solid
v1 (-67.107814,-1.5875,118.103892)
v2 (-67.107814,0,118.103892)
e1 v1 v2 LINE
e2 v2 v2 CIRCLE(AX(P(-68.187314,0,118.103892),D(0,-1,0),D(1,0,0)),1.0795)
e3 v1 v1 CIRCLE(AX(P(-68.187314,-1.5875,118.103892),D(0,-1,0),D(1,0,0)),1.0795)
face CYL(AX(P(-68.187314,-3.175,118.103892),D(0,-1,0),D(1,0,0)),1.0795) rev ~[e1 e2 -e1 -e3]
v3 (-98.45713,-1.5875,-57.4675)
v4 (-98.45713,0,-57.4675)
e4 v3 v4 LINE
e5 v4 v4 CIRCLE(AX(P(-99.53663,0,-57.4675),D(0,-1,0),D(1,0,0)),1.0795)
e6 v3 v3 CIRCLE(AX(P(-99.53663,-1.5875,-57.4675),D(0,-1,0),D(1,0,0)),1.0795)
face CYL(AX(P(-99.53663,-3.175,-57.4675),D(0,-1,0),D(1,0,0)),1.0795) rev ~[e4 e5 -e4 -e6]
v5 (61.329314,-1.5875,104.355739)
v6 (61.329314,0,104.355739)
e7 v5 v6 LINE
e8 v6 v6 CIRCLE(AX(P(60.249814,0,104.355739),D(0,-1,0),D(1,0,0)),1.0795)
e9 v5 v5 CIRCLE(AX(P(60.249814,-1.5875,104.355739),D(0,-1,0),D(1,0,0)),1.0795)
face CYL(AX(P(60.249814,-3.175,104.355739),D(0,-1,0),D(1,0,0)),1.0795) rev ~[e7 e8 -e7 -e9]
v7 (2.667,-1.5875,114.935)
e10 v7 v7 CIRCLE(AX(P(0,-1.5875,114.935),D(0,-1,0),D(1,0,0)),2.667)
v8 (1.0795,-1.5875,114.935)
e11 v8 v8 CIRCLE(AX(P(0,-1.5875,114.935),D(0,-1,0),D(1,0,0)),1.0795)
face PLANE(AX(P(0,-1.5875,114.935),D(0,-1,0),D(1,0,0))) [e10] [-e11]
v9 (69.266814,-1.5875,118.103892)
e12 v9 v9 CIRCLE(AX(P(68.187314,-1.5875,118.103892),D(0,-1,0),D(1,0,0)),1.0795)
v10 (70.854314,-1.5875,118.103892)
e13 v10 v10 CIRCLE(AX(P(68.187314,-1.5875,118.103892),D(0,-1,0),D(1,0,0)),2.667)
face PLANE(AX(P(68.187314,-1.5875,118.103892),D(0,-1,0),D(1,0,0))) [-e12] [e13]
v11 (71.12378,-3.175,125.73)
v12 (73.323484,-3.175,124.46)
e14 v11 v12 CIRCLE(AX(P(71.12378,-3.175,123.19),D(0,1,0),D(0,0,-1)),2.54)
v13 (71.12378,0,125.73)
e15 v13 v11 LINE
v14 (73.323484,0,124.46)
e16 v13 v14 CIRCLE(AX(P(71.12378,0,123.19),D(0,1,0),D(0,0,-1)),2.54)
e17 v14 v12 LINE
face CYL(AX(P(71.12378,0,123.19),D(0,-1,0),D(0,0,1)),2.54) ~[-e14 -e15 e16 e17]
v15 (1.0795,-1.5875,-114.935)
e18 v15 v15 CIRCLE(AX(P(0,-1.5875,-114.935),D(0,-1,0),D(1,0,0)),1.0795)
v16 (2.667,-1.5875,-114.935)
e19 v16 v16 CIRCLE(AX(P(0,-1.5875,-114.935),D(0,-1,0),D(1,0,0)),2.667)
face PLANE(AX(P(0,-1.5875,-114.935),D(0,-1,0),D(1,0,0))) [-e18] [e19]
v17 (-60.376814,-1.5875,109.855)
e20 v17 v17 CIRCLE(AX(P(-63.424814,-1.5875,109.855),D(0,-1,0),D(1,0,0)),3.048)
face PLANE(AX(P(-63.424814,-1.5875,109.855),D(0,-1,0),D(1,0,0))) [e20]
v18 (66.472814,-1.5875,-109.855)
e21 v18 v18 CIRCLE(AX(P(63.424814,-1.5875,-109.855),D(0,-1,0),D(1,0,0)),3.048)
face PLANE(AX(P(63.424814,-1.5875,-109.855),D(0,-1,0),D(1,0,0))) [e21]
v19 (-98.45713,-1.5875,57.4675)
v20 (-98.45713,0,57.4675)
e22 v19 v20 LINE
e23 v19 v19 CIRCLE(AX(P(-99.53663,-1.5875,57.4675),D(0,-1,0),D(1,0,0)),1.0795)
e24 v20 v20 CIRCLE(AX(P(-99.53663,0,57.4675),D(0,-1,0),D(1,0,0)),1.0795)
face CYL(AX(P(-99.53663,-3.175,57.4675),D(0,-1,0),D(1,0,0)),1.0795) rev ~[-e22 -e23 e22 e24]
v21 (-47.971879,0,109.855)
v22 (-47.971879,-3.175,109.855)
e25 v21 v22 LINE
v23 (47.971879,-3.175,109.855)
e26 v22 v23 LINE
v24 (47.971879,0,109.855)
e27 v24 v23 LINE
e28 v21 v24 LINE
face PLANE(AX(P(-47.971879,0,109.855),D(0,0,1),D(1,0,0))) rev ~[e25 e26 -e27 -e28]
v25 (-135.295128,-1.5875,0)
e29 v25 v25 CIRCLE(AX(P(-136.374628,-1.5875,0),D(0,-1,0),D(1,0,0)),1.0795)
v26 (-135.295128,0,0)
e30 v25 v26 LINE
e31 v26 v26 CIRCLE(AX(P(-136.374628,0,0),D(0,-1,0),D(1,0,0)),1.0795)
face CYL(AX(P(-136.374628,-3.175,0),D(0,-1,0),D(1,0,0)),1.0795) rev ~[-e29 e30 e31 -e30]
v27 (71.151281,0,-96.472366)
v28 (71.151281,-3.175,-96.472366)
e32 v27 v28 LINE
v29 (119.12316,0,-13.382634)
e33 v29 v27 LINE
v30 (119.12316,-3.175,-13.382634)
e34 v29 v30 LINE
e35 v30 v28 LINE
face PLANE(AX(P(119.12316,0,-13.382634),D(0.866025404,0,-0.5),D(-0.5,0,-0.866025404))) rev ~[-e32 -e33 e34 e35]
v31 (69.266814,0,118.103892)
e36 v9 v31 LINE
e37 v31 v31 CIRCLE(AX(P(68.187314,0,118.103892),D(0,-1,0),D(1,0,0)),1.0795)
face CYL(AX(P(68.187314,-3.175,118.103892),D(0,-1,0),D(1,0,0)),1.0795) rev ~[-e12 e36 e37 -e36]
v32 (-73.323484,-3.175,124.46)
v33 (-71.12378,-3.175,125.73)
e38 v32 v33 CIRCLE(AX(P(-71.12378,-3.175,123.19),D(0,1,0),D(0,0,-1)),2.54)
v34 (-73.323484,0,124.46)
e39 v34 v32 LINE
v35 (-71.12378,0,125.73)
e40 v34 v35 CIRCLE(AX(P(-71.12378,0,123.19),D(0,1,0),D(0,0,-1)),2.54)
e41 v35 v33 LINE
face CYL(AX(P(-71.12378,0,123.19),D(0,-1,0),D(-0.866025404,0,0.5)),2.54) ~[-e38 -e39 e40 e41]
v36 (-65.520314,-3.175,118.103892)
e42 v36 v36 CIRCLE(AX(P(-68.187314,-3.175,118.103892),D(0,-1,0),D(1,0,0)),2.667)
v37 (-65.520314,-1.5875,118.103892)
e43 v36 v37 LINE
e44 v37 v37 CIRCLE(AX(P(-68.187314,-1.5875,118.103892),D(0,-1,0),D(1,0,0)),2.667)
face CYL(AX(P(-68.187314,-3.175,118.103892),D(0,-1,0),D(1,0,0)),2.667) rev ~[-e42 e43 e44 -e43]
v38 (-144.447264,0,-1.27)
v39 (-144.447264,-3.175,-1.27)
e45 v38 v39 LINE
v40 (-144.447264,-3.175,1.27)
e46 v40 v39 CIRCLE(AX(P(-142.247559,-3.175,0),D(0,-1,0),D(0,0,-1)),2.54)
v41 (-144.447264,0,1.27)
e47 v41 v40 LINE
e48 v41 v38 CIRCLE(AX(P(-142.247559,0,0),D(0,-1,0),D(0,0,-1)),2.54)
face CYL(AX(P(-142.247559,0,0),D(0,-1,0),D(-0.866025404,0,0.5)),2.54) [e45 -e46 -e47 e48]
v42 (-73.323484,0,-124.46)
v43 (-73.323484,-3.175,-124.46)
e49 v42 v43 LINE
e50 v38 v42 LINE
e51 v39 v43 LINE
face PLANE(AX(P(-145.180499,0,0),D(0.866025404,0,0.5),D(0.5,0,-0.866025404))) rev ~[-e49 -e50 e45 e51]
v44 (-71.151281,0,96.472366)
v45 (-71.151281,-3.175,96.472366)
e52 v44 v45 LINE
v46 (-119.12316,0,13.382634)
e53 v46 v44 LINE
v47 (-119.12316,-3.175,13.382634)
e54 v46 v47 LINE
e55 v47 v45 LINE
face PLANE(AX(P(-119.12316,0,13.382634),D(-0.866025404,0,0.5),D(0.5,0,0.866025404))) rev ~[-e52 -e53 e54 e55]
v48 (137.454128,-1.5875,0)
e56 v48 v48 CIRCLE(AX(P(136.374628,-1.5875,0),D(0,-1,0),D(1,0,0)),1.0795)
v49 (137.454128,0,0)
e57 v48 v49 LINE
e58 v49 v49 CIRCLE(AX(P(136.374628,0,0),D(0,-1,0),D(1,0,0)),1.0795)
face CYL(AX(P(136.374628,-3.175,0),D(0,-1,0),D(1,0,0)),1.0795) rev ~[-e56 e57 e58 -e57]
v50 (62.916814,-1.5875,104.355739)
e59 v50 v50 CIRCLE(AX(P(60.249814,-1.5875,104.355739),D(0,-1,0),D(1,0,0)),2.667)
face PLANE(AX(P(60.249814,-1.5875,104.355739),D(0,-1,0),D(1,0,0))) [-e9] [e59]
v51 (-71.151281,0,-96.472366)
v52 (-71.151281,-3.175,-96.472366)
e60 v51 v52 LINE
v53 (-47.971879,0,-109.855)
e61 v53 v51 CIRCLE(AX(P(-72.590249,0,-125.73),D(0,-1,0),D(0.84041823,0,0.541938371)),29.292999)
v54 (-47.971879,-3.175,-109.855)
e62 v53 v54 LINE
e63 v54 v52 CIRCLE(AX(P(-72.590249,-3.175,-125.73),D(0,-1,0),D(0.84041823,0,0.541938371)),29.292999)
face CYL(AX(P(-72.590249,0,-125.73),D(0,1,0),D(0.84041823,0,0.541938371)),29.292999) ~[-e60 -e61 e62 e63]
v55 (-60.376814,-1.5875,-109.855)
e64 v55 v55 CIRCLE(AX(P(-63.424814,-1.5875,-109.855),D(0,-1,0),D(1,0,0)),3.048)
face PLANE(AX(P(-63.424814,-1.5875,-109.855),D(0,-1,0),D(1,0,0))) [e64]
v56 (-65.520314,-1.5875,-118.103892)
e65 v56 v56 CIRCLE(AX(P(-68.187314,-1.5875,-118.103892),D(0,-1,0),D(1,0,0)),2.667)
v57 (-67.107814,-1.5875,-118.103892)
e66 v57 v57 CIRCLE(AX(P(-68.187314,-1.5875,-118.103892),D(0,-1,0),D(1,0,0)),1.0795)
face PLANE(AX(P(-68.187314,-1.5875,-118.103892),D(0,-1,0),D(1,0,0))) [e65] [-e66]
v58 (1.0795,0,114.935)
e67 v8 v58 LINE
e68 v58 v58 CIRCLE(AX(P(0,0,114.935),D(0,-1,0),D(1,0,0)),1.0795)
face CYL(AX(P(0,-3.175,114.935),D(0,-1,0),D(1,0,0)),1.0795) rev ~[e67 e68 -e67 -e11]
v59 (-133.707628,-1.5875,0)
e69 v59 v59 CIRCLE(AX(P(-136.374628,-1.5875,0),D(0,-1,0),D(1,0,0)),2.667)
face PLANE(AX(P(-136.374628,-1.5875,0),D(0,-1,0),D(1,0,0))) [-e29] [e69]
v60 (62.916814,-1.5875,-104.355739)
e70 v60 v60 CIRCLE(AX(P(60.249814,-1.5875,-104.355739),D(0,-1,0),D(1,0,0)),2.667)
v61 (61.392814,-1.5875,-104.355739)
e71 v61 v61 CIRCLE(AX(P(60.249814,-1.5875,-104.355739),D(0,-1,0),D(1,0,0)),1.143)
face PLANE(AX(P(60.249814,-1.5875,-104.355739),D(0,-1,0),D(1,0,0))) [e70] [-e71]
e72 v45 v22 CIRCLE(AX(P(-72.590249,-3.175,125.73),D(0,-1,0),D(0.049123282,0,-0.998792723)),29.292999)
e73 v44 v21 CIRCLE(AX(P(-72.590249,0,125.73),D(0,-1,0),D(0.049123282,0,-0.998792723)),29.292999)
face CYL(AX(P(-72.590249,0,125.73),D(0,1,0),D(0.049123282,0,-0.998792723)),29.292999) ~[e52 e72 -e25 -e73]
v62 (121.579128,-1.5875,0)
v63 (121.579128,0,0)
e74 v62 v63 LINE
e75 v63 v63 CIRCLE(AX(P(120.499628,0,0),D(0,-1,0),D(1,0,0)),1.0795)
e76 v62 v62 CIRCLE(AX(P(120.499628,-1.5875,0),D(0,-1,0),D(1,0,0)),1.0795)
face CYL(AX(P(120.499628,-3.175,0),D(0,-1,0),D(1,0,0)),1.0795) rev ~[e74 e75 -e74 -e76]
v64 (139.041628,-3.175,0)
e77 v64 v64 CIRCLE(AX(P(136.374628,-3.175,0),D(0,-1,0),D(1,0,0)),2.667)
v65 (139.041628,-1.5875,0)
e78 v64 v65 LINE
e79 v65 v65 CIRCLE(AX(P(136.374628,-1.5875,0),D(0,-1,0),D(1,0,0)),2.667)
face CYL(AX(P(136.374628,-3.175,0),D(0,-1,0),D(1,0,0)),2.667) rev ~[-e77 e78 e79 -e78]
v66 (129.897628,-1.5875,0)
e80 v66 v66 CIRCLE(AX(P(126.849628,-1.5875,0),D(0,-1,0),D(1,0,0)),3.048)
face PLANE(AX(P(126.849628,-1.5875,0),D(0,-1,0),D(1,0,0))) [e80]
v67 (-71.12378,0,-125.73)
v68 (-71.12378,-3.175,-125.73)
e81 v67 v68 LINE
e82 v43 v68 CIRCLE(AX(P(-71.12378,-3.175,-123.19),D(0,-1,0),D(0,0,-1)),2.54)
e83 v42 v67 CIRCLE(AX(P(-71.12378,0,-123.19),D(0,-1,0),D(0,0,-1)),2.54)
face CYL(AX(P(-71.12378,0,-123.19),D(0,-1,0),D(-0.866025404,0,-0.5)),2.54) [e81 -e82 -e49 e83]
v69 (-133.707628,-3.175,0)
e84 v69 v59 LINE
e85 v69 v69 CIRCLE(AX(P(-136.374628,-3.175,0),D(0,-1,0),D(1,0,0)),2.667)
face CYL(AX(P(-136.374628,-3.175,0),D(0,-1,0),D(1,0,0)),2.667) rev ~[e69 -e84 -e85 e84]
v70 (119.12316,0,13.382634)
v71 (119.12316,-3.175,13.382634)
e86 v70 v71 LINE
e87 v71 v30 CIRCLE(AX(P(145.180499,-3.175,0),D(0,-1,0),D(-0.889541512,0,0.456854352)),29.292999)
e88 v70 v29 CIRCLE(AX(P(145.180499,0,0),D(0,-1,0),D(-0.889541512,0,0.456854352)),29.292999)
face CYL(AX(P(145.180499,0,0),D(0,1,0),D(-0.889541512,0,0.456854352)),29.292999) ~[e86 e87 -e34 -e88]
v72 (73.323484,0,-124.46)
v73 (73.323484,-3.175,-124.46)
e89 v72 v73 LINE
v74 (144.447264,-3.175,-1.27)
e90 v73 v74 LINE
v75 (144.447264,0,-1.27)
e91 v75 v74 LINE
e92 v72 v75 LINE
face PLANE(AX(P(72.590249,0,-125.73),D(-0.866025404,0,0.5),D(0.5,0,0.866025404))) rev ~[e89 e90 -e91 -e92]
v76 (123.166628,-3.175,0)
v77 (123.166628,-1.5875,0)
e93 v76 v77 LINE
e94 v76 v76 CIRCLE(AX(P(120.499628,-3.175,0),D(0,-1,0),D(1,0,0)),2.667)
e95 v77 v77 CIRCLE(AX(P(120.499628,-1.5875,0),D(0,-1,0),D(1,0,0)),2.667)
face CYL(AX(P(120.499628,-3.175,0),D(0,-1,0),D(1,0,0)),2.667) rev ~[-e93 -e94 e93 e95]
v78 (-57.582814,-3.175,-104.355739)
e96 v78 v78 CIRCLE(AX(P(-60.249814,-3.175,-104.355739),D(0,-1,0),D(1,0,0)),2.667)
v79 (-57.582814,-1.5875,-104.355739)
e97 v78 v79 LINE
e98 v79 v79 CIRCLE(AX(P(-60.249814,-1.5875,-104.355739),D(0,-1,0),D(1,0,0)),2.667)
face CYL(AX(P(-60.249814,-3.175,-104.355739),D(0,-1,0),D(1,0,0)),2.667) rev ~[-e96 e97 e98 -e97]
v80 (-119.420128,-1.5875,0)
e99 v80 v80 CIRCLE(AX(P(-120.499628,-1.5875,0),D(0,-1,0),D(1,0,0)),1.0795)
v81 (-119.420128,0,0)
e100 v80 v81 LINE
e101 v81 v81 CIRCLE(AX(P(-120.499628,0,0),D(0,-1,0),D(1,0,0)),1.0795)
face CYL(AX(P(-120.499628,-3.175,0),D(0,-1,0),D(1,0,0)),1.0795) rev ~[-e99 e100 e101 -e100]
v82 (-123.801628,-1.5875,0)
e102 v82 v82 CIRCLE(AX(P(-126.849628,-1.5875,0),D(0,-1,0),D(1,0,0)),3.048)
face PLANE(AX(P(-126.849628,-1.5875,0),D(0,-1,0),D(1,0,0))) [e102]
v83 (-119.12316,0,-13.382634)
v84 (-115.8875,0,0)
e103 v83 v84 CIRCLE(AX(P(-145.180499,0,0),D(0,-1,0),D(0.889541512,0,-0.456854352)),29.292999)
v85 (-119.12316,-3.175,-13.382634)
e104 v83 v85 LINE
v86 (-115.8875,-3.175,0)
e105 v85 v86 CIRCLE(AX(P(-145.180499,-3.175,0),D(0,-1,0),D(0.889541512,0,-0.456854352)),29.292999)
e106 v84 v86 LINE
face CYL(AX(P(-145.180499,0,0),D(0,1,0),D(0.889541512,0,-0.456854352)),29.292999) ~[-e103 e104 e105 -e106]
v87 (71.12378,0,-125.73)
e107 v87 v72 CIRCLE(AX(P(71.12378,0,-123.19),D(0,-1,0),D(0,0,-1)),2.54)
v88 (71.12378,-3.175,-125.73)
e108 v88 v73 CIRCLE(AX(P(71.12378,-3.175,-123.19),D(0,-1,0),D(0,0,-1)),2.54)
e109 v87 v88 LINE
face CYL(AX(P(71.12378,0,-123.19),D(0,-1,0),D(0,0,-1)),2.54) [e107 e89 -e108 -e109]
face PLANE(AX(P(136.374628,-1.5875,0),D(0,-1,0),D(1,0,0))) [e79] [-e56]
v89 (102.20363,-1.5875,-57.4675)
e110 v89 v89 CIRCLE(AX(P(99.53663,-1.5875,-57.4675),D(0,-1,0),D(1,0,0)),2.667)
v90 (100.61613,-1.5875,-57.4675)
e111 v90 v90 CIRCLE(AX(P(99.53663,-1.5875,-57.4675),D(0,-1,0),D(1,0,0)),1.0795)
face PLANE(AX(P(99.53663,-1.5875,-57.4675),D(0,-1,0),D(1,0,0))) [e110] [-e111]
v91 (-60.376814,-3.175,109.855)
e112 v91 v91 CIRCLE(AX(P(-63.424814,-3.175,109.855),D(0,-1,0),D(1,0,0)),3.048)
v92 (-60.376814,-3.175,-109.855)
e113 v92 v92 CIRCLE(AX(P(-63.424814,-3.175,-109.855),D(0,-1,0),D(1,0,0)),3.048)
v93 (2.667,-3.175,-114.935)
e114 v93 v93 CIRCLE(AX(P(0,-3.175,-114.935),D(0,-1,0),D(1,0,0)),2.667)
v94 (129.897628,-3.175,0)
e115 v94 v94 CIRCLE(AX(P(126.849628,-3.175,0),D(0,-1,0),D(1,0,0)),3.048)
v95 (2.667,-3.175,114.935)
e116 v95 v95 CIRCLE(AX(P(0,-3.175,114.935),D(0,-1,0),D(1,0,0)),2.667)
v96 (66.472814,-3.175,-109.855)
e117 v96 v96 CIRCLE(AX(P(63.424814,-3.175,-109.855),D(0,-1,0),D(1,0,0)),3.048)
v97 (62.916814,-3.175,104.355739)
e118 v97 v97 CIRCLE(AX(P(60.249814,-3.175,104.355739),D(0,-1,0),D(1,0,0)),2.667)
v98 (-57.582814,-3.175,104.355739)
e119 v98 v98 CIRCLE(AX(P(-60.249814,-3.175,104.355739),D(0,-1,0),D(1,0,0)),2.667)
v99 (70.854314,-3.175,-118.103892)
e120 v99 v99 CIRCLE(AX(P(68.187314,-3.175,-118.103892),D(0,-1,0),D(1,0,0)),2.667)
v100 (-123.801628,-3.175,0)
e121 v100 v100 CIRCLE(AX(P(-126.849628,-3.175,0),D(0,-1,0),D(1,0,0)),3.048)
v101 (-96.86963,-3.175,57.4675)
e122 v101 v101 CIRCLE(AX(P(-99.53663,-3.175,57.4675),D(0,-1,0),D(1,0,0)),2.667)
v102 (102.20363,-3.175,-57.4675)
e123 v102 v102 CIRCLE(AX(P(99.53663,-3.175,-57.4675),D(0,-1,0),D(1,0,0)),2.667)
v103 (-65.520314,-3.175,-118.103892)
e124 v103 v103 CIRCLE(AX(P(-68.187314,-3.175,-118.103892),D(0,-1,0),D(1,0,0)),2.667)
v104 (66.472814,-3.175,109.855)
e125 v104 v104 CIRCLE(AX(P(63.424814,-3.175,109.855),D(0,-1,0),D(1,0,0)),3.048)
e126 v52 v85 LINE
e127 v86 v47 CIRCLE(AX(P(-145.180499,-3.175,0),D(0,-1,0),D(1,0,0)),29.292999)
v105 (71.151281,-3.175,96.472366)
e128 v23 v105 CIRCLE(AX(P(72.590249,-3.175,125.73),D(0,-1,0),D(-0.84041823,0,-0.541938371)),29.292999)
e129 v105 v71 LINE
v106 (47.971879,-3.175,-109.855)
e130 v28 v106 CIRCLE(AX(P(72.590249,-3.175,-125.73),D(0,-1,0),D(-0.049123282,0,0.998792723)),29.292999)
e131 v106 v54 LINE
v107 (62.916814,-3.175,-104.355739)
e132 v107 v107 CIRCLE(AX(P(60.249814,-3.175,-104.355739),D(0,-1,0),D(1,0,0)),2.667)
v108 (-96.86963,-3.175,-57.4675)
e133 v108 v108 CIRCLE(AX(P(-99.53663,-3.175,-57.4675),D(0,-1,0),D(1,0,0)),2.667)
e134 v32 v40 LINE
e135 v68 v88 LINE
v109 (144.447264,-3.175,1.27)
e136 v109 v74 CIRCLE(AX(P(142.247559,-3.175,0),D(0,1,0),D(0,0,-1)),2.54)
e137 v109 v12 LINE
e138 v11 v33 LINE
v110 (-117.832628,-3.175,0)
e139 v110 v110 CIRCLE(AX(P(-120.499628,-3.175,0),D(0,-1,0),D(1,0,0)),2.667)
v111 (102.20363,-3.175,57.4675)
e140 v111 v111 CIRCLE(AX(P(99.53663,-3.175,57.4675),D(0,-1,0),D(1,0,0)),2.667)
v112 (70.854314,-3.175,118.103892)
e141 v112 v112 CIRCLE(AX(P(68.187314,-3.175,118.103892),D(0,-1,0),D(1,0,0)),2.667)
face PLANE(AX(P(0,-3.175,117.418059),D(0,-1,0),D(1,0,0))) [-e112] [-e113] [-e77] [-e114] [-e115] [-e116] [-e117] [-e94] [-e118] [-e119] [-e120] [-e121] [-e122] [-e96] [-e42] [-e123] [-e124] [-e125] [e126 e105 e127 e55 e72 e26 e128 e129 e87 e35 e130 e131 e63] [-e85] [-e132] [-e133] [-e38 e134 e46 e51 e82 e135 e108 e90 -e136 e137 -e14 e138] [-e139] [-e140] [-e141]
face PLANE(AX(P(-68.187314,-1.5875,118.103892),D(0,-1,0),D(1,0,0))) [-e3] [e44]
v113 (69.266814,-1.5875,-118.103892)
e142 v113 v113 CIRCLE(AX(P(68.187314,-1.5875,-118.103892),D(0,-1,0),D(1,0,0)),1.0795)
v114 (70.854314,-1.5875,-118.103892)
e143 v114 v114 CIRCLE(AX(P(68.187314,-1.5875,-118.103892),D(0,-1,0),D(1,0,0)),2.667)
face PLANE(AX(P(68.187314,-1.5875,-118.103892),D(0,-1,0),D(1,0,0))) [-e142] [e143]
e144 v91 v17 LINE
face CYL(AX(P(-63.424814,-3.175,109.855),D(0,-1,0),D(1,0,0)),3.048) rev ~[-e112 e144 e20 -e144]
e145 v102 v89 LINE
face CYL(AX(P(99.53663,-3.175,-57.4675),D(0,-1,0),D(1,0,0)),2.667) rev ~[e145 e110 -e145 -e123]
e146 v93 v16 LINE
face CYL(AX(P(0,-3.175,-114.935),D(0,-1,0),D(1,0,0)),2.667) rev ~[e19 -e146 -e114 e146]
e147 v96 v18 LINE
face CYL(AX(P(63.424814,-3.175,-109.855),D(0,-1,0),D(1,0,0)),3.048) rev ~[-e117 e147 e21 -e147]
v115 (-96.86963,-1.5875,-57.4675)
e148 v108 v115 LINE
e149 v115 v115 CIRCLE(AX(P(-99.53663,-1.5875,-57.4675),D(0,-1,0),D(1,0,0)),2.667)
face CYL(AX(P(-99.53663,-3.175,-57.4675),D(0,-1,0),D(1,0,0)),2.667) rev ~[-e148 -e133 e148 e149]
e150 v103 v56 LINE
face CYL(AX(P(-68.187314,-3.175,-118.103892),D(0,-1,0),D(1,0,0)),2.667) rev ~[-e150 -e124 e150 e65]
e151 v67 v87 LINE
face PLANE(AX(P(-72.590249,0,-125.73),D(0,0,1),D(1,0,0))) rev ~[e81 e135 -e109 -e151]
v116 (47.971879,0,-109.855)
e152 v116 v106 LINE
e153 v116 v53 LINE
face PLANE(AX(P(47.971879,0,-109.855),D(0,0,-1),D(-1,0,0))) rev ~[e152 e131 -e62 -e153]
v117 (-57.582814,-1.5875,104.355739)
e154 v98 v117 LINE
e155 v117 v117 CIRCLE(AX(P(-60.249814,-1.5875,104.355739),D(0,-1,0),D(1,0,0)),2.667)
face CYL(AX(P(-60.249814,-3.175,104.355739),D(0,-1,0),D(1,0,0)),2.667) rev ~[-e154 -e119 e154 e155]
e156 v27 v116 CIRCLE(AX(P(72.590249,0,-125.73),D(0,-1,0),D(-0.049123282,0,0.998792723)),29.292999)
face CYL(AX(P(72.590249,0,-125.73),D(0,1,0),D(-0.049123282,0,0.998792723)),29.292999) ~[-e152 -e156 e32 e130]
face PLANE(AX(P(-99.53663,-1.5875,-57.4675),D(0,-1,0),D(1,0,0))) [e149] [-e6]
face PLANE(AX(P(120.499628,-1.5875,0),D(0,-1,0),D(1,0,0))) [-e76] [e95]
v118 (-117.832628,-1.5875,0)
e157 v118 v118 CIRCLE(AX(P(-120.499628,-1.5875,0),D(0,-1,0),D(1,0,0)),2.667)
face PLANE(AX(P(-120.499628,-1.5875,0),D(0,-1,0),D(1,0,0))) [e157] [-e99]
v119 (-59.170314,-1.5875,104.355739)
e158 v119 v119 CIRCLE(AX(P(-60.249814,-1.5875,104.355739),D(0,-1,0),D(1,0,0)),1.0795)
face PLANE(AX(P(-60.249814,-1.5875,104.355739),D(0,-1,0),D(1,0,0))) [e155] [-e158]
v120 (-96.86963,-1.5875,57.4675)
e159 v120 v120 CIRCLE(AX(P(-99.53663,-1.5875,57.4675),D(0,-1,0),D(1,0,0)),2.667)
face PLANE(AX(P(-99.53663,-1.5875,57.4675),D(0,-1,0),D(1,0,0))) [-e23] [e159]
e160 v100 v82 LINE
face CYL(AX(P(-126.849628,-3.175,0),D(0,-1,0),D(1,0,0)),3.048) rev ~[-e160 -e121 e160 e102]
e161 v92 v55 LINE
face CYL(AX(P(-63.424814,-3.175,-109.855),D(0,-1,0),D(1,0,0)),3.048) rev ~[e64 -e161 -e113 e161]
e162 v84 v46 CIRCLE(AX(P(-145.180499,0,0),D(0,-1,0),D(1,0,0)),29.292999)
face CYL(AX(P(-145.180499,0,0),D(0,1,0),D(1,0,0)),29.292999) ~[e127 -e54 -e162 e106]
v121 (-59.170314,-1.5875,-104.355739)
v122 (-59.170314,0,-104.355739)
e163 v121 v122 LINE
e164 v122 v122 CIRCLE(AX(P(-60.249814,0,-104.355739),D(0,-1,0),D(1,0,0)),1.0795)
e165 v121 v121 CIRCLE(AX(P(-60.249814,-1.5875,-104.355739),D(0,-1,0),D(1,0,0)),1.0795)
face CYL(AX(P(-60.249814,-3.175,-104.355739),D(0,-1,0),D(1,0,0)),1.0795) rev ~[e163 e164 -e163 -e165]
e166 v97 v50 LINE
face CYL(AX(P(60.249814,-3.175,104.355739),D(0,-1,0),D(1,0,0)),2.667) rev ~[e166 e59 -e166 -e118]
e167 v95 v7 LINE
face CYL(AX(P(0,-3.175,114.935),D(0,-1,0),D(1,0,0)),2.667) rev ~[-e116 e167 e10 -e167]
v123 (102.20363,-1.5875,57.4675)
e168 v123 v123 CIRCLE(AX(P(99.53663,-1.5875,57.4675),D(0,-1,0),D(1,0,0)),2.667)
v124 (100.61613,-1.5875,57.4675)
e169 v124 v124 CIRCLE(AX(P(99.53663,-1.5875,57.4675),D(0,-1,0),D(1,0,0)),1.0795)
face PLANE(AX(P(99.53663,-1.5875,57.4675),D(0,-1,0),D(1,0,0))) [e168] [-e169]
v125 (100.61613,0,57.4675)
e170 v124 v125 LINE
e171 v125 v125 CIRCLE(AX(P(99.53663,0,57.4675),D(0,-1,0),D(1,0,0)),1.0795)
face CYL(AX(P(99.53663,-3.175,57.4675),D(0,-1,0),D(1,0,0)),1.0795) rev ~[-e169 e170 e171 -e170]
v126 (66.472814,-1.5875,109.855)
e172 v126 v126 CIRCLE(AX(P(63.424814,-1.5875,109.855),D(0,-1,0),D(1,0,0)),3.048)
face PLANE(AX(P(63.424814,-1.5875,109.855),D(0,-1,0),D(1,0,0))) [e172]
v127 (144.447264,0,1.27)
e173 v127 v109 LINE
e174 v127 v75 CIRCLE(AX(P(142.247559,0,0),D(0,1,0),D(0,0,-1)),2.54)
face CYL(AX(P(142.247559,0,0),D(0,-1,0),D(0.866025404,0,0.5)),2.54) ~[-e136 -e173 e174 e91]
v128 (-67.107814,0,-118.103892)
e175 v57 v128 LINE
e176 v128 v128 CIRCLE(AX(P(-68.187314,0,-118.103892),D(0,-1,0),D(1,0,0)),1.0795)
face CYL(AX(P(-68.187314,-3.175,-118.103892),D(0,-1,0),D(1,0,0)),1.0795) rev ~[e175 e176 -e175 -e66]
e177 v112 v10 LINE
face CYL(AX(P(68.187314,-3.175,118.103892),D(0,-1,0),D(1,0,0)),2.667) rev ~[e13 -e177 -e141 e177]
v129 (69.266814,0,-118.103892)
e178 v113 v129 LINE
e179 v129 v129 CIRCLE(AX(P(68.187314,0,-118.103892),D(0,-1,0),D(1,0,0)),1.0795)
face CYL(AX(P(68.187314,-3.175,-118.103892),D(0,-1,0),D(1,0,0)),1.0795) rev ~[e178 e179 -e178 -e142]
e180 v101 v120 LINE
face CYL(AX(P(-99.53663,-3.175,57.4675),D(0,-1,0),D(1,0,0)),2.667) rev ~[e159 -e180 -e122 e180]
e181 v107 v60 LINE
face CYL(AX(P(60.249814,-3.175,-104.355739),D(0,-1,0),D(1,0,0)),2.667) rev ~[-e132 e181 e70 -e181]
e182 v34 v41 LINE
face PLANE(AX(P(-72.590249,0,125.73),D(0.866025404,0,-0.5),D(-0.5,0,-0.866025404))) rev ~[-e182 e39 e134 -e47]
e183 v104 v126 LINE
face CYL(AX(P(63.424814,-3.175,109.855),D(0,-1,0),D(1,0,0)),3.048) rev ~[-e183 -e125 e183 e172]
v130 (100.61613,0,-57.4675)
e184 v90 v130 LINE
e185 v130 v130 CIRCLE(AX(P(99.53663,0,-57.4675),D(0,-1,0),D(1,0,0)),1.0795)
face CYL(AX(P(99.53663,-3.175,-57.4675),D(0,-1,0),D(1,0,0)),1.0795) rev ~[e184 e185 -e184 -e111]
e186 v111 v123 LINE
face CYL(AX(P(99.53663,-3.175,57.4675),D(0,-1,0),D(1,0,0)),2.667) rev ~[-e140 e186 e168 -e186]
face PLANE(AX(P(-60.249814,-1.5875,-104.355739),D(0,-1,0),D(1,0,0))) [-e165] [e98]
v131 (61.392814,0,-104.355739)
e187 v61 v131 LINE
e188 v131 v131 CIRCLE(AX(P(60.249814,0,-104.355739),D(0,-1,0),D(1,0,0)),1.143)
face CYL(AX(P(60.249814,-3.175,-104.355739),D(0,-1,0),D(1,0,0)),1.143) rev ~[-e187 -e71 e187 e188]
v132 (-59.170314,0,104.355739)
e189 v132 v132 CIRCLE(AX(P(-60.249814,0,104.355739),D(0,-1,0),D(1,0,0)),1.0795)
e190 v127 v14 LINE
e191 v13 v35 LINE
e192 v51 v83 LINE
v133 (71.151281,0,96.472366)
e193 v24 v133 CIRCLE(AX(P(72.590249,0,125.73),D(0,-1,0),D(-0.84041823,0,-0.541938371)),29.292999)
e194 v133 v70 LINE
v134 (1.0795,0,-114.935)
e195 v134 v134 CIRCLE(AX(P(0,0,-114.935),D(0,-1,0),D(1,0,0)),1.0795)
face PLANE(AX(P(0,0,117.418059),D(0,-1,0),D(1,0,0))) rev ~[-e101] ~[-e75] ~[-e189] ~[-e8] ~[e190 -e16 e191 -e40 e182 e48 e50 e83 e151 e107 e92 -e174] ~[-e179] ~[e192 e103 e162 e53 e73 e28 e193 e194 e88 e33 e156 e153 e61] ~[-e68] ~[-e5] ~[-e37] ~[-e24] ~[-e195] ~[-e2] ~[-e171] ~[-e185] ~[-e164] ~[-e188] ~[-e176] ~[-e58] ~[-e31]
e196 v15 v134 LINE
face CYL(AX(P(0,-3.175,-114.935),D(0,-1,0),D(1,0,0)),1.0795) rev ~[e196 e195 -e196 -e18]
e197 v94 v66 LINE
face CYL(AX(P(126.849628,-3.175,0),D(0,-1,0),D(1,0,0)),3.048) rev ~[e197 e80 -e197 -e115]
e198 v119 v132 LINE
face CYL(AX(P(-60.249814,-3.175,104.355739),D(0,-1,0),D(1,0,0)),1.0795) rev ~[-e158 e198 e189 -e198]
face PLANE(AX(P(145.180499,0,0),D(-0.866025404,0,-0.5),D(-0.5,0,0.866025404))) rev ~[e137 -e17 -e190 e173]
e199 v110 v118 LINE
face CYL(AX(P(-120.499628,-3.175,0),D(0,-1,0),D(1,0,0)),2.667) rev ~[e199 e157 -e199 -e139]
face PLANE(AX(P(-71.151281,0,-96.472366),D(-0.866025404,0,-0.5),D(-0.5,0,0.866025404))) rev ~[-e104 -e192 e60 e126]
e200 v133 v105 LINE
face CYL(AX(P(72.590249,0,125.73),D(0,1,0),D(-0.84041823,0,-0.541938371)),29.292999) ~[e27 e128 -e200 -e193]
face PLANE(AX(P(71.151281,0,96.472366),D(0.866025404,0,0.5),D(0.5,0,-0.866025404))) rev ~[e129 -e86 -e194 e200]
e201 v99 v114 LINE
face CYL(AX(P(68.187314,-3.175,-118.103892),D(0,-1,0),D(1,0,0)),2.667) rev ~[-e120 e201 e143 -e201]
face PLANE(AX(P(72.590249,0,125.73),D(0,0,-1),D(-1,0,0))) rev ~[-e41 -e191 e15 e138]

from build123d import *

# Parameters (mm, degrees)
F1_DEPTH = 3.175
F2_R     = 3.048
F3_DEPTH = 1.5875
F4_R     = 2.667
F4_R_2   = 1.0795
F4_R_3   = 1.143
F5_DEPTH = 1.5875
F6_DEPTH = 3.176
F7_R     = 2.54


with BuildPart() as f1:
    # F0 (on Front) → F1 (new body)
    with BuildSketch(Plane.XZ):
        with BuildLine():
            Line((43.2972506548, 125.73), (-43.2972506548, 125.73))
            ThreePointArc((-43.2972506548, 125.73), (-44.4901990258, 117.4555245289), (-47.971879227, 109.855))
            Line((-47.971879227, 109.855), (47.971879227, 109.855))
            ThreePointArc((47.971879227, 109.855), (44.4901990258, 117.4555245289), (43.2972506548, 125.73))
        make_face()
        with BuildLine():
            Line((-43.2972506548, 125.73), (-72.5902493452, 125.73))
            Line((-72.5902493452, 125.73), (-87.2367486904, 100.3615189811))
            ThreePointArc((-87.2367486904, 100.3615189811), (-79.474368544, 97.2574048402), (-71.1512811192, 96.4723660779))
            Line((-71.1512811192, 96.4723660779), (-63.4248138218, 109.855))
            Line((-63.4248138218, 109.855), (-47.971879227, 109.855))
            ThreePointArc((-47.971879227, 109.855), (-44.4901990258, 117.4555245289), (-43.2972506548, 125.73))
        make_face()
        with BuildLine():
            ThreePointArc((-71.1512811192, 96.4723660779), (-79.474368544, 97.2574048402), (-87.2367486904, 100.3615189811))
            Line((-87.2367486904, 100.3615189811), (-130.5339993452, 25.3684810189))
            ThreePointArc((-130.5339993452, 25.3684810189), (-123.9645675697, 20.1981196887), (-119.1231603462, 13.3826339221))
            Line((-119.1231603462, 13.3826339221), (-71.1512811192, 96.4723660779))
        make_face()
        with BuildLine():
            ThreePointArc((-119.1231603462, 13.3826339221), (-123.9645675697, 20.1981196887), (-130.5339993452, 25.3684810189))
            Line((-130.5339993452, 25.3684810189), (-145.1804986904, 0))
            Line((-145.1804986904, 0), (-130.5339993452, -25.3684810189))
            ThreePointArc((-130.5339993452, -25.3684810189), (-123.9645675697, -20.1981196887), (-119.1231603462, -13.3826339221))
            Line((-119.1231603462, -13.3826339221), (-126.8496276437, 0))
            Line((-126.8496276437, 0), (-119.1231603462, 13.3826339221))
        make_face()
        with BuildLine():
            ThreePointArc((-115.8875, 0), (-116.7079035306, 6.8841191987), (-119.1231603462, 13.3826339221))
            Line((-119.1231603462, 13.3826339221), (-126.8496276437, 0))
            Line((-126.8496276437, 0), (-119.1231603462, -13.3826339221))
            ThreePointArc((-119.1231603462, -13.3826339221), (-116.7079035306, -6.8841191987), (-115.8875, 0))
        make_face()
        with BuildLine():
            ThreePointArc((-71.1512811192, 96.4723660779), (-57.94375, 100.3615189811), (-47.971879227, 109.855))
            Line((-47.971879227, 109.855), (-63.4248138218, 109.855))
            Line((-63.4248138218, 109.855), (-71.1512811192, 96.4723660779))
        make_face()
        with BuildLine():
            Line((63.4248138218, 109.855), (47.971879227, 109.855))
            ThreePointArc((47.971879227, 109.855), (57.94375, 100.3615189811), (71.1512811192, 96.4723660779))
            Line((71.1512811192, 96.4723660779), (63.4248138218, 109.855))
        make_face()
        with BuildLine():
            Line((72.5902493452, 125.73), (43.2972506548, 125.73))
            ThreePointArc((43.2972506548, 125.73), (44.4901990258, 117.4555245289), (47.971879227, 109.855))
            Line((47.971879227, 109.855), (63.4248138218, 109.855))
            Line((63.4248138218, 109.855), (71.1512811192, 96.4723660779))
            ThreePointArc((71.1512811192, 96.4723660779), (79.474368544, 97.2574048402), (87.2367486904, 100.3615189811))
            Line((87.2367486904, 100.3615189811), (72.5902493452, 125.73))
        make_face()
        with BuildLine():
            Line((130.5339993452, 25.3684810189), (87.2367486904, 100.3615189811))
            ThreePointArc((87.2367486904, 100.3615189811), (79.474368544, 97.2574048402), (71.1512811192, 96.4723660779))
            Line((71.1512811192, 96.4723660779), (119.1231603462, 13.3826339221))
            ThreePointArc((119.1231603462, 13.3826339221), (123.9645675697, 20.1981196887), (130.5339993452, 25.3684810189))
        make_face()
        with BuildLine():
            Line((126.8496276437, 0), (119.1231603462, 13.3826339221))
            ThreePointArc((119.1231603462, 13.3826339221), (115.8875, 0), (119.1231603462, -13.3826339221))
            Line((119.1231603462, -13.3826339221), (126.8496276437, 0))
        make_face()
        with BuildLine():
            Line((145.1804986904, 0), (130.5339993452, 25.3684810189))
            ThreePointArc((130.5339993452, 25.3684810189), (123.9645675697, 20.1981196887), (119.1231603462, 13.3826339221))
            Line((119.1231603462, 13.3826339221), (126.8496276437, 0))
            Line((126.8496276437, 0), (119.1231603462, -13.3826339221))
            ThreePointArc((119.1231603462, -13.3826339221), (123.9645675697, -20.1981196887), (130.5339993452, -25.3684810189))
            Line((130.5339993452, -25.3684810189), (145.1804986904, 0))
        make_face()
        with BuildLine():
            ThreePointArc((130.5339993452, -25.3684810189), (123.9645675697, -20.1981196887), (119.1231603462, -13.3826339221))
            Line((119.1231603462, -13.3826339221), (71.1512811192, -96.4723660779))
            ThreePointArc((71.1512811192, -96.4723660779), (79.474368544, -97.2574048402), (87.2367486904, -100.3615189811))
            Line((87.2367486904, -100.3615189811), (130.5339993452, -25.3684810189))
        make_face()
        with BuildLine():
            ThreePointArc((47.971879227, -109.855), (44.4901990258, -117.4555245289), (43.2972506548, -125.73))
            Line((43.2972506548, -125.73), (72.5902493452, -125.73))
            Line((72.5902493452, -125.73), (87.2367486904, -100.3615189811))
            ThreePointArc((87.2367486904, -100.3615189811), (79.474368544, -97.2574048402), (71.1512811192, -96.4723660779))
            Line((71.1512811192, -96.4723660779), (63.4248138218, -109.855))
            Line((63.4248138218, -109.855), (47.971879227, -109.855))
        make_face()
        with BuildLine():
            Line((63.4248138218, -109.855), (71.1512811192, -96.4723660779))
            ThreePointArc((71.1512811192, -96.4723660779), (57.94375, -100.3615189811), (47.971879227, -109.855))
            Line((47.971879227, -109.855), (63.4248138218, -109.855))
        make_face()
        with BuildLine():
            ThreePointArc((-47.971879227, -109.855), (-44.4901990258, -117.4555245289), (-43.2972506548, -125.73))
            Line((-43.2972506548, -125.73), (43.2972506548, -125.73))
            ThreePointArc((43.2972506548, -125.73), (44.4901990258, -117.4555245289), (47.971879227, -109.855))
            Line((47.971879227, -109.855), (-47.971879227, -109.855))
        make_face()
        with BuildLine():
            ThreePointArc((-71.1512811192, -96.4723660779), (-79.474368544, -97.2574048402), (-87.2367486904, -100.3615189811))
            Line((-87.2367486904, -100.3615189811), (-72.5902493452, -125.73))
            Line((-72.5902493452, -125.73), (-43.2972506548, -125.73))
            ThreePointArc((-43.2972506548, -125.73), (-44.4901990258, -117.4555245289), (-47.971879227, -109.855))
            Line((-47.971879227, -109.855), (-63.4248138218, -109.855))
            Line((-63.4248138218, -109.855), (-71.1512811192, -96.4723660779))
        make_face()
        with BuildLine():
            ThreePointArc((-47.971879227, -109.855), (-57.94375, -100.3615189811), (-71.1512811192, -96.4723660779))
            Line((-71.1512811192, -96.4723660779), (-63.4248138218, -109.855))
            Line((-63.4248138218, -109.855), (-47.971879227, -109.855))
        make_face()
        with BuildLine():
            ThreePointArc((-119.1231603462, -13.3826339221), (-123.9645675697, -20.1981196887), (-130.5339993452, -25.3684810189))
            Line((-130.5339993452, -25.3684810189), (-87.2367486904, -100.3615189811))
            ThreePointArc((-87.2367486904, -100.3615189811), (-79.474368544, -97.2574048402), (-71.1512811192, -96.4723660779))
            Line((-71.1512811192, -96.4723660779), (-119.1231603462, -13.3826339221))
        make_face()
    extrude(amount=F1_DEPTH)

    # F2 (on face) → F3 (cut)
    with BuildSketch(Plane.XZ.offset(3.175)):
        with Locations((-63.4248138218, 109.855)):
            Circle(F2_R)
        with Locations((63.4248138218, 109.855)):
            Circle(F2_R)
        with Locations((-126.8496276437, 0)):
            Circle(F2_R)
        with Locations((-63.4248138218, -109.855)):
            Circle(F2_R)
        with Locations((63.4248138218, -109.855)):
            Circle(F2_R)
        with Locations((126.8496276437, 0)):
            Circle(F2_R)
    extrude(amount=-F3_DEPTH, mode=Mode.SUBTRACT)

    # F4 (on face) → F5 (cut)
    with BuildSketch(Plane.XZ.offset(3.175)):
        with Locations((-120.4996276437, 0)):
            Circle(F4_R)
        with Locations((-120.4996276437, 0)):
            Circle(F4_R_2, mode=Mode.SUBTRACT)
        with Locations((-60.2498138218, 104.355738686)):
            Circle(F4_R)
        with Locations((-60.2498138218, 104.355738686)):
            Circle(F4_R_2, mode=Mode.SUBTRACT)
        with Locations((60.2498138218, 104.355738686)):
            Circle(F4_R)
        with Locations((60.2498138218, 104.355738686)):
            Circle(F4_R_2, mode=Mode.SUBTRACT)
        with Locations((120.4996276437, 0)):
            Circle(F4_R)
        with Locations((120.4996276437, 0)):
            Circle(F4_R_2, mode=Mode.SUBTRACT)
        with Locations((60.2498138218, -104.355738686)):
            Circle(F4_R)
        with Locations((60.2498138218, -104.355738686)):
            Circle(F4_R_3, mode=Mode.SUBTRACT)
        with Locations((-60.2498138218, -104.355738686)):
            Circle(F4_R)
        with Locations((-60.2498138218, -104.355738686)):
            Circle(F4_R_2, mode=Mode.SUBTRACT)
        with Locations((-68.1873138218, -118.103891971)):
            Circle(F4_R)
        with Locations((-68.1873138218, -118.103891971)):
            Circle(F4_R_2, mode=Mode.SUBTRACT)
        with Locations((68.1873138218, -118.103891971)):
            Circle(F4_R)
        with Locations((68.1873138218, -118.103891971)):
            Circle(F4_R_2, mode=Mode.SUBTRACT)
        with Locations((136.3746276437, 0)):
            Circle(F4_R)
        with Locations((136.3746276437, 0)):
            Circle(F4_R_2, mode=Mode.SUBTRACT)
        with Locations((68.1873138218, 118.103891971)):
            Circle(F4_R)
        with Locations((68.1873138218, 118.103891971)):
            Circle(F4_R_2, mode=Mode.SUBTRACT)
        with Locations((-68.1873138218, 118.103891971)):
            Circle(F4_R)
        with Locations((-68.1873138218, 118.103891971)):
            Circle(F4_R_2, mode=Mode.SUBTRACT)
        with Locations((-136.3746276437, 0)):
            Circle(F4_R)
        with Locations((-136.3746276437, 0)):
            Circle(F4_R_2, mode=Mode.SUBTRACT)
        with Locations((-99.536629784, 57.4675)):
            Circle(F4_R)
        with Locations((-99.536629784, 57.4675)):
            Circle(F4_R_2, mode=Mode.SUBTRACT)
        with Locations((0, 114.935)):
            Circle(F4_R)
        with Locations((0, 114.935)):
            Circle(F4_R_2, mode=Mode.SUBTRACT)
        with Locations((99.536629784, 57.4675)):
            Circle(F4_R)
        with Locations((99.536629784, 57.4675)):
            Circle(F4_R_2, mode=Mode.SUBTRACT)
        with Locations((99.536629784, -57.4675)):
            Circle(F4_R)
        with Locations((99.536629784, -57.4675)):
            Circle(F4_R_2, mode=Mode.SUBTRACT)
        with Locations((0, -114.935)):
            Circle(F4_R)
        with Locations((0, -114.935)):
            Circle(F4_R_2, mode=Mode.SUBTRACT)
        with Locations((-99.536629784, -57.4675)):
            Circle(F4_R)
        with Locations((-99.536629784, -57.4675)):
            Circle(F4_R_2, mode=Mode.SUBTRACT)
    extrude(amount=-F5_DEPTH, mode=Mode.SUBTRACT)

    # F4 (on face) → F6 (cut, through all)
    with BuildSketch(Plane.XZ.offset(3.175)):
        with Locations((-60.2498138218, -104.355738686)):
            Circle(F4_R_2)
        with Locations((-120.4996276437, 0)):
            Circle(F4_R_2)
        with Locations((-60.2498138218, 104.355738686)):
            Circle(F4_R_2)
        with Locations((60.2498138218, 104.355738686)):
            Circle(F4_R_2)
        with Locations((120.4996276437, 0)):
            Circle(F4_R_2)
        with Locations((60.2498138218, -104.355738686)):
            Circle(F4_R_3)
        with Locations((-136.3746276437, 0)):
            Circle(F4_R_2)
        with Locations((-68.1873138218, -118.103891971)):
            Circle(F4_R_2)
        with Locations((68.1873138218, -118.103891971)):
            Circle(F4_R_2)
        with Locations((136.3746276437, 0)):
            Circle(F4_R_2)
        with Locations((68.1873138218, 118.103891971)):
            Circle(F4_R_2)
        with Locations((-68.1873138218, 118.103891971)):
            Circle(F4_R_2)
        with Locations((-99.536629784, 57.4675)):
            Circle(F4_R_2)
        with Locations((-99.536629784, -57.4675)):
            Circle(F4_R_2)
        with Locations((0, -114.935)):
            Circle(F4_R_2)
        with Locations((99.536629784, -57.4675)):
            Circle(F4_R_2)
        with Locations((99.536629784, 57.4675)):
            Circle(F4_R_2)
        with Locations((0, 114.935)):
            Circle(F4_R_2)
    extrude(amount=-F6_DEPTH, mode=Mode.SUBTRACT)

    # F7
    f7_edges = [f1.edges().sort_by_distance(p)[0] for p in [
        (-72.590249, -1.5875, 125.73),
        (72.590249, -1.5875, 125.73),
        (145.180499, -1.5875, 0),
        (72.590249, -1.5875, -125.73),
        (-72.590249, -1.5875, -125.73),
        (-145.180499, -1.5875, 0),
    ]]
    fillet(f7_edges, radius=F7_R)


solid = f1.part
